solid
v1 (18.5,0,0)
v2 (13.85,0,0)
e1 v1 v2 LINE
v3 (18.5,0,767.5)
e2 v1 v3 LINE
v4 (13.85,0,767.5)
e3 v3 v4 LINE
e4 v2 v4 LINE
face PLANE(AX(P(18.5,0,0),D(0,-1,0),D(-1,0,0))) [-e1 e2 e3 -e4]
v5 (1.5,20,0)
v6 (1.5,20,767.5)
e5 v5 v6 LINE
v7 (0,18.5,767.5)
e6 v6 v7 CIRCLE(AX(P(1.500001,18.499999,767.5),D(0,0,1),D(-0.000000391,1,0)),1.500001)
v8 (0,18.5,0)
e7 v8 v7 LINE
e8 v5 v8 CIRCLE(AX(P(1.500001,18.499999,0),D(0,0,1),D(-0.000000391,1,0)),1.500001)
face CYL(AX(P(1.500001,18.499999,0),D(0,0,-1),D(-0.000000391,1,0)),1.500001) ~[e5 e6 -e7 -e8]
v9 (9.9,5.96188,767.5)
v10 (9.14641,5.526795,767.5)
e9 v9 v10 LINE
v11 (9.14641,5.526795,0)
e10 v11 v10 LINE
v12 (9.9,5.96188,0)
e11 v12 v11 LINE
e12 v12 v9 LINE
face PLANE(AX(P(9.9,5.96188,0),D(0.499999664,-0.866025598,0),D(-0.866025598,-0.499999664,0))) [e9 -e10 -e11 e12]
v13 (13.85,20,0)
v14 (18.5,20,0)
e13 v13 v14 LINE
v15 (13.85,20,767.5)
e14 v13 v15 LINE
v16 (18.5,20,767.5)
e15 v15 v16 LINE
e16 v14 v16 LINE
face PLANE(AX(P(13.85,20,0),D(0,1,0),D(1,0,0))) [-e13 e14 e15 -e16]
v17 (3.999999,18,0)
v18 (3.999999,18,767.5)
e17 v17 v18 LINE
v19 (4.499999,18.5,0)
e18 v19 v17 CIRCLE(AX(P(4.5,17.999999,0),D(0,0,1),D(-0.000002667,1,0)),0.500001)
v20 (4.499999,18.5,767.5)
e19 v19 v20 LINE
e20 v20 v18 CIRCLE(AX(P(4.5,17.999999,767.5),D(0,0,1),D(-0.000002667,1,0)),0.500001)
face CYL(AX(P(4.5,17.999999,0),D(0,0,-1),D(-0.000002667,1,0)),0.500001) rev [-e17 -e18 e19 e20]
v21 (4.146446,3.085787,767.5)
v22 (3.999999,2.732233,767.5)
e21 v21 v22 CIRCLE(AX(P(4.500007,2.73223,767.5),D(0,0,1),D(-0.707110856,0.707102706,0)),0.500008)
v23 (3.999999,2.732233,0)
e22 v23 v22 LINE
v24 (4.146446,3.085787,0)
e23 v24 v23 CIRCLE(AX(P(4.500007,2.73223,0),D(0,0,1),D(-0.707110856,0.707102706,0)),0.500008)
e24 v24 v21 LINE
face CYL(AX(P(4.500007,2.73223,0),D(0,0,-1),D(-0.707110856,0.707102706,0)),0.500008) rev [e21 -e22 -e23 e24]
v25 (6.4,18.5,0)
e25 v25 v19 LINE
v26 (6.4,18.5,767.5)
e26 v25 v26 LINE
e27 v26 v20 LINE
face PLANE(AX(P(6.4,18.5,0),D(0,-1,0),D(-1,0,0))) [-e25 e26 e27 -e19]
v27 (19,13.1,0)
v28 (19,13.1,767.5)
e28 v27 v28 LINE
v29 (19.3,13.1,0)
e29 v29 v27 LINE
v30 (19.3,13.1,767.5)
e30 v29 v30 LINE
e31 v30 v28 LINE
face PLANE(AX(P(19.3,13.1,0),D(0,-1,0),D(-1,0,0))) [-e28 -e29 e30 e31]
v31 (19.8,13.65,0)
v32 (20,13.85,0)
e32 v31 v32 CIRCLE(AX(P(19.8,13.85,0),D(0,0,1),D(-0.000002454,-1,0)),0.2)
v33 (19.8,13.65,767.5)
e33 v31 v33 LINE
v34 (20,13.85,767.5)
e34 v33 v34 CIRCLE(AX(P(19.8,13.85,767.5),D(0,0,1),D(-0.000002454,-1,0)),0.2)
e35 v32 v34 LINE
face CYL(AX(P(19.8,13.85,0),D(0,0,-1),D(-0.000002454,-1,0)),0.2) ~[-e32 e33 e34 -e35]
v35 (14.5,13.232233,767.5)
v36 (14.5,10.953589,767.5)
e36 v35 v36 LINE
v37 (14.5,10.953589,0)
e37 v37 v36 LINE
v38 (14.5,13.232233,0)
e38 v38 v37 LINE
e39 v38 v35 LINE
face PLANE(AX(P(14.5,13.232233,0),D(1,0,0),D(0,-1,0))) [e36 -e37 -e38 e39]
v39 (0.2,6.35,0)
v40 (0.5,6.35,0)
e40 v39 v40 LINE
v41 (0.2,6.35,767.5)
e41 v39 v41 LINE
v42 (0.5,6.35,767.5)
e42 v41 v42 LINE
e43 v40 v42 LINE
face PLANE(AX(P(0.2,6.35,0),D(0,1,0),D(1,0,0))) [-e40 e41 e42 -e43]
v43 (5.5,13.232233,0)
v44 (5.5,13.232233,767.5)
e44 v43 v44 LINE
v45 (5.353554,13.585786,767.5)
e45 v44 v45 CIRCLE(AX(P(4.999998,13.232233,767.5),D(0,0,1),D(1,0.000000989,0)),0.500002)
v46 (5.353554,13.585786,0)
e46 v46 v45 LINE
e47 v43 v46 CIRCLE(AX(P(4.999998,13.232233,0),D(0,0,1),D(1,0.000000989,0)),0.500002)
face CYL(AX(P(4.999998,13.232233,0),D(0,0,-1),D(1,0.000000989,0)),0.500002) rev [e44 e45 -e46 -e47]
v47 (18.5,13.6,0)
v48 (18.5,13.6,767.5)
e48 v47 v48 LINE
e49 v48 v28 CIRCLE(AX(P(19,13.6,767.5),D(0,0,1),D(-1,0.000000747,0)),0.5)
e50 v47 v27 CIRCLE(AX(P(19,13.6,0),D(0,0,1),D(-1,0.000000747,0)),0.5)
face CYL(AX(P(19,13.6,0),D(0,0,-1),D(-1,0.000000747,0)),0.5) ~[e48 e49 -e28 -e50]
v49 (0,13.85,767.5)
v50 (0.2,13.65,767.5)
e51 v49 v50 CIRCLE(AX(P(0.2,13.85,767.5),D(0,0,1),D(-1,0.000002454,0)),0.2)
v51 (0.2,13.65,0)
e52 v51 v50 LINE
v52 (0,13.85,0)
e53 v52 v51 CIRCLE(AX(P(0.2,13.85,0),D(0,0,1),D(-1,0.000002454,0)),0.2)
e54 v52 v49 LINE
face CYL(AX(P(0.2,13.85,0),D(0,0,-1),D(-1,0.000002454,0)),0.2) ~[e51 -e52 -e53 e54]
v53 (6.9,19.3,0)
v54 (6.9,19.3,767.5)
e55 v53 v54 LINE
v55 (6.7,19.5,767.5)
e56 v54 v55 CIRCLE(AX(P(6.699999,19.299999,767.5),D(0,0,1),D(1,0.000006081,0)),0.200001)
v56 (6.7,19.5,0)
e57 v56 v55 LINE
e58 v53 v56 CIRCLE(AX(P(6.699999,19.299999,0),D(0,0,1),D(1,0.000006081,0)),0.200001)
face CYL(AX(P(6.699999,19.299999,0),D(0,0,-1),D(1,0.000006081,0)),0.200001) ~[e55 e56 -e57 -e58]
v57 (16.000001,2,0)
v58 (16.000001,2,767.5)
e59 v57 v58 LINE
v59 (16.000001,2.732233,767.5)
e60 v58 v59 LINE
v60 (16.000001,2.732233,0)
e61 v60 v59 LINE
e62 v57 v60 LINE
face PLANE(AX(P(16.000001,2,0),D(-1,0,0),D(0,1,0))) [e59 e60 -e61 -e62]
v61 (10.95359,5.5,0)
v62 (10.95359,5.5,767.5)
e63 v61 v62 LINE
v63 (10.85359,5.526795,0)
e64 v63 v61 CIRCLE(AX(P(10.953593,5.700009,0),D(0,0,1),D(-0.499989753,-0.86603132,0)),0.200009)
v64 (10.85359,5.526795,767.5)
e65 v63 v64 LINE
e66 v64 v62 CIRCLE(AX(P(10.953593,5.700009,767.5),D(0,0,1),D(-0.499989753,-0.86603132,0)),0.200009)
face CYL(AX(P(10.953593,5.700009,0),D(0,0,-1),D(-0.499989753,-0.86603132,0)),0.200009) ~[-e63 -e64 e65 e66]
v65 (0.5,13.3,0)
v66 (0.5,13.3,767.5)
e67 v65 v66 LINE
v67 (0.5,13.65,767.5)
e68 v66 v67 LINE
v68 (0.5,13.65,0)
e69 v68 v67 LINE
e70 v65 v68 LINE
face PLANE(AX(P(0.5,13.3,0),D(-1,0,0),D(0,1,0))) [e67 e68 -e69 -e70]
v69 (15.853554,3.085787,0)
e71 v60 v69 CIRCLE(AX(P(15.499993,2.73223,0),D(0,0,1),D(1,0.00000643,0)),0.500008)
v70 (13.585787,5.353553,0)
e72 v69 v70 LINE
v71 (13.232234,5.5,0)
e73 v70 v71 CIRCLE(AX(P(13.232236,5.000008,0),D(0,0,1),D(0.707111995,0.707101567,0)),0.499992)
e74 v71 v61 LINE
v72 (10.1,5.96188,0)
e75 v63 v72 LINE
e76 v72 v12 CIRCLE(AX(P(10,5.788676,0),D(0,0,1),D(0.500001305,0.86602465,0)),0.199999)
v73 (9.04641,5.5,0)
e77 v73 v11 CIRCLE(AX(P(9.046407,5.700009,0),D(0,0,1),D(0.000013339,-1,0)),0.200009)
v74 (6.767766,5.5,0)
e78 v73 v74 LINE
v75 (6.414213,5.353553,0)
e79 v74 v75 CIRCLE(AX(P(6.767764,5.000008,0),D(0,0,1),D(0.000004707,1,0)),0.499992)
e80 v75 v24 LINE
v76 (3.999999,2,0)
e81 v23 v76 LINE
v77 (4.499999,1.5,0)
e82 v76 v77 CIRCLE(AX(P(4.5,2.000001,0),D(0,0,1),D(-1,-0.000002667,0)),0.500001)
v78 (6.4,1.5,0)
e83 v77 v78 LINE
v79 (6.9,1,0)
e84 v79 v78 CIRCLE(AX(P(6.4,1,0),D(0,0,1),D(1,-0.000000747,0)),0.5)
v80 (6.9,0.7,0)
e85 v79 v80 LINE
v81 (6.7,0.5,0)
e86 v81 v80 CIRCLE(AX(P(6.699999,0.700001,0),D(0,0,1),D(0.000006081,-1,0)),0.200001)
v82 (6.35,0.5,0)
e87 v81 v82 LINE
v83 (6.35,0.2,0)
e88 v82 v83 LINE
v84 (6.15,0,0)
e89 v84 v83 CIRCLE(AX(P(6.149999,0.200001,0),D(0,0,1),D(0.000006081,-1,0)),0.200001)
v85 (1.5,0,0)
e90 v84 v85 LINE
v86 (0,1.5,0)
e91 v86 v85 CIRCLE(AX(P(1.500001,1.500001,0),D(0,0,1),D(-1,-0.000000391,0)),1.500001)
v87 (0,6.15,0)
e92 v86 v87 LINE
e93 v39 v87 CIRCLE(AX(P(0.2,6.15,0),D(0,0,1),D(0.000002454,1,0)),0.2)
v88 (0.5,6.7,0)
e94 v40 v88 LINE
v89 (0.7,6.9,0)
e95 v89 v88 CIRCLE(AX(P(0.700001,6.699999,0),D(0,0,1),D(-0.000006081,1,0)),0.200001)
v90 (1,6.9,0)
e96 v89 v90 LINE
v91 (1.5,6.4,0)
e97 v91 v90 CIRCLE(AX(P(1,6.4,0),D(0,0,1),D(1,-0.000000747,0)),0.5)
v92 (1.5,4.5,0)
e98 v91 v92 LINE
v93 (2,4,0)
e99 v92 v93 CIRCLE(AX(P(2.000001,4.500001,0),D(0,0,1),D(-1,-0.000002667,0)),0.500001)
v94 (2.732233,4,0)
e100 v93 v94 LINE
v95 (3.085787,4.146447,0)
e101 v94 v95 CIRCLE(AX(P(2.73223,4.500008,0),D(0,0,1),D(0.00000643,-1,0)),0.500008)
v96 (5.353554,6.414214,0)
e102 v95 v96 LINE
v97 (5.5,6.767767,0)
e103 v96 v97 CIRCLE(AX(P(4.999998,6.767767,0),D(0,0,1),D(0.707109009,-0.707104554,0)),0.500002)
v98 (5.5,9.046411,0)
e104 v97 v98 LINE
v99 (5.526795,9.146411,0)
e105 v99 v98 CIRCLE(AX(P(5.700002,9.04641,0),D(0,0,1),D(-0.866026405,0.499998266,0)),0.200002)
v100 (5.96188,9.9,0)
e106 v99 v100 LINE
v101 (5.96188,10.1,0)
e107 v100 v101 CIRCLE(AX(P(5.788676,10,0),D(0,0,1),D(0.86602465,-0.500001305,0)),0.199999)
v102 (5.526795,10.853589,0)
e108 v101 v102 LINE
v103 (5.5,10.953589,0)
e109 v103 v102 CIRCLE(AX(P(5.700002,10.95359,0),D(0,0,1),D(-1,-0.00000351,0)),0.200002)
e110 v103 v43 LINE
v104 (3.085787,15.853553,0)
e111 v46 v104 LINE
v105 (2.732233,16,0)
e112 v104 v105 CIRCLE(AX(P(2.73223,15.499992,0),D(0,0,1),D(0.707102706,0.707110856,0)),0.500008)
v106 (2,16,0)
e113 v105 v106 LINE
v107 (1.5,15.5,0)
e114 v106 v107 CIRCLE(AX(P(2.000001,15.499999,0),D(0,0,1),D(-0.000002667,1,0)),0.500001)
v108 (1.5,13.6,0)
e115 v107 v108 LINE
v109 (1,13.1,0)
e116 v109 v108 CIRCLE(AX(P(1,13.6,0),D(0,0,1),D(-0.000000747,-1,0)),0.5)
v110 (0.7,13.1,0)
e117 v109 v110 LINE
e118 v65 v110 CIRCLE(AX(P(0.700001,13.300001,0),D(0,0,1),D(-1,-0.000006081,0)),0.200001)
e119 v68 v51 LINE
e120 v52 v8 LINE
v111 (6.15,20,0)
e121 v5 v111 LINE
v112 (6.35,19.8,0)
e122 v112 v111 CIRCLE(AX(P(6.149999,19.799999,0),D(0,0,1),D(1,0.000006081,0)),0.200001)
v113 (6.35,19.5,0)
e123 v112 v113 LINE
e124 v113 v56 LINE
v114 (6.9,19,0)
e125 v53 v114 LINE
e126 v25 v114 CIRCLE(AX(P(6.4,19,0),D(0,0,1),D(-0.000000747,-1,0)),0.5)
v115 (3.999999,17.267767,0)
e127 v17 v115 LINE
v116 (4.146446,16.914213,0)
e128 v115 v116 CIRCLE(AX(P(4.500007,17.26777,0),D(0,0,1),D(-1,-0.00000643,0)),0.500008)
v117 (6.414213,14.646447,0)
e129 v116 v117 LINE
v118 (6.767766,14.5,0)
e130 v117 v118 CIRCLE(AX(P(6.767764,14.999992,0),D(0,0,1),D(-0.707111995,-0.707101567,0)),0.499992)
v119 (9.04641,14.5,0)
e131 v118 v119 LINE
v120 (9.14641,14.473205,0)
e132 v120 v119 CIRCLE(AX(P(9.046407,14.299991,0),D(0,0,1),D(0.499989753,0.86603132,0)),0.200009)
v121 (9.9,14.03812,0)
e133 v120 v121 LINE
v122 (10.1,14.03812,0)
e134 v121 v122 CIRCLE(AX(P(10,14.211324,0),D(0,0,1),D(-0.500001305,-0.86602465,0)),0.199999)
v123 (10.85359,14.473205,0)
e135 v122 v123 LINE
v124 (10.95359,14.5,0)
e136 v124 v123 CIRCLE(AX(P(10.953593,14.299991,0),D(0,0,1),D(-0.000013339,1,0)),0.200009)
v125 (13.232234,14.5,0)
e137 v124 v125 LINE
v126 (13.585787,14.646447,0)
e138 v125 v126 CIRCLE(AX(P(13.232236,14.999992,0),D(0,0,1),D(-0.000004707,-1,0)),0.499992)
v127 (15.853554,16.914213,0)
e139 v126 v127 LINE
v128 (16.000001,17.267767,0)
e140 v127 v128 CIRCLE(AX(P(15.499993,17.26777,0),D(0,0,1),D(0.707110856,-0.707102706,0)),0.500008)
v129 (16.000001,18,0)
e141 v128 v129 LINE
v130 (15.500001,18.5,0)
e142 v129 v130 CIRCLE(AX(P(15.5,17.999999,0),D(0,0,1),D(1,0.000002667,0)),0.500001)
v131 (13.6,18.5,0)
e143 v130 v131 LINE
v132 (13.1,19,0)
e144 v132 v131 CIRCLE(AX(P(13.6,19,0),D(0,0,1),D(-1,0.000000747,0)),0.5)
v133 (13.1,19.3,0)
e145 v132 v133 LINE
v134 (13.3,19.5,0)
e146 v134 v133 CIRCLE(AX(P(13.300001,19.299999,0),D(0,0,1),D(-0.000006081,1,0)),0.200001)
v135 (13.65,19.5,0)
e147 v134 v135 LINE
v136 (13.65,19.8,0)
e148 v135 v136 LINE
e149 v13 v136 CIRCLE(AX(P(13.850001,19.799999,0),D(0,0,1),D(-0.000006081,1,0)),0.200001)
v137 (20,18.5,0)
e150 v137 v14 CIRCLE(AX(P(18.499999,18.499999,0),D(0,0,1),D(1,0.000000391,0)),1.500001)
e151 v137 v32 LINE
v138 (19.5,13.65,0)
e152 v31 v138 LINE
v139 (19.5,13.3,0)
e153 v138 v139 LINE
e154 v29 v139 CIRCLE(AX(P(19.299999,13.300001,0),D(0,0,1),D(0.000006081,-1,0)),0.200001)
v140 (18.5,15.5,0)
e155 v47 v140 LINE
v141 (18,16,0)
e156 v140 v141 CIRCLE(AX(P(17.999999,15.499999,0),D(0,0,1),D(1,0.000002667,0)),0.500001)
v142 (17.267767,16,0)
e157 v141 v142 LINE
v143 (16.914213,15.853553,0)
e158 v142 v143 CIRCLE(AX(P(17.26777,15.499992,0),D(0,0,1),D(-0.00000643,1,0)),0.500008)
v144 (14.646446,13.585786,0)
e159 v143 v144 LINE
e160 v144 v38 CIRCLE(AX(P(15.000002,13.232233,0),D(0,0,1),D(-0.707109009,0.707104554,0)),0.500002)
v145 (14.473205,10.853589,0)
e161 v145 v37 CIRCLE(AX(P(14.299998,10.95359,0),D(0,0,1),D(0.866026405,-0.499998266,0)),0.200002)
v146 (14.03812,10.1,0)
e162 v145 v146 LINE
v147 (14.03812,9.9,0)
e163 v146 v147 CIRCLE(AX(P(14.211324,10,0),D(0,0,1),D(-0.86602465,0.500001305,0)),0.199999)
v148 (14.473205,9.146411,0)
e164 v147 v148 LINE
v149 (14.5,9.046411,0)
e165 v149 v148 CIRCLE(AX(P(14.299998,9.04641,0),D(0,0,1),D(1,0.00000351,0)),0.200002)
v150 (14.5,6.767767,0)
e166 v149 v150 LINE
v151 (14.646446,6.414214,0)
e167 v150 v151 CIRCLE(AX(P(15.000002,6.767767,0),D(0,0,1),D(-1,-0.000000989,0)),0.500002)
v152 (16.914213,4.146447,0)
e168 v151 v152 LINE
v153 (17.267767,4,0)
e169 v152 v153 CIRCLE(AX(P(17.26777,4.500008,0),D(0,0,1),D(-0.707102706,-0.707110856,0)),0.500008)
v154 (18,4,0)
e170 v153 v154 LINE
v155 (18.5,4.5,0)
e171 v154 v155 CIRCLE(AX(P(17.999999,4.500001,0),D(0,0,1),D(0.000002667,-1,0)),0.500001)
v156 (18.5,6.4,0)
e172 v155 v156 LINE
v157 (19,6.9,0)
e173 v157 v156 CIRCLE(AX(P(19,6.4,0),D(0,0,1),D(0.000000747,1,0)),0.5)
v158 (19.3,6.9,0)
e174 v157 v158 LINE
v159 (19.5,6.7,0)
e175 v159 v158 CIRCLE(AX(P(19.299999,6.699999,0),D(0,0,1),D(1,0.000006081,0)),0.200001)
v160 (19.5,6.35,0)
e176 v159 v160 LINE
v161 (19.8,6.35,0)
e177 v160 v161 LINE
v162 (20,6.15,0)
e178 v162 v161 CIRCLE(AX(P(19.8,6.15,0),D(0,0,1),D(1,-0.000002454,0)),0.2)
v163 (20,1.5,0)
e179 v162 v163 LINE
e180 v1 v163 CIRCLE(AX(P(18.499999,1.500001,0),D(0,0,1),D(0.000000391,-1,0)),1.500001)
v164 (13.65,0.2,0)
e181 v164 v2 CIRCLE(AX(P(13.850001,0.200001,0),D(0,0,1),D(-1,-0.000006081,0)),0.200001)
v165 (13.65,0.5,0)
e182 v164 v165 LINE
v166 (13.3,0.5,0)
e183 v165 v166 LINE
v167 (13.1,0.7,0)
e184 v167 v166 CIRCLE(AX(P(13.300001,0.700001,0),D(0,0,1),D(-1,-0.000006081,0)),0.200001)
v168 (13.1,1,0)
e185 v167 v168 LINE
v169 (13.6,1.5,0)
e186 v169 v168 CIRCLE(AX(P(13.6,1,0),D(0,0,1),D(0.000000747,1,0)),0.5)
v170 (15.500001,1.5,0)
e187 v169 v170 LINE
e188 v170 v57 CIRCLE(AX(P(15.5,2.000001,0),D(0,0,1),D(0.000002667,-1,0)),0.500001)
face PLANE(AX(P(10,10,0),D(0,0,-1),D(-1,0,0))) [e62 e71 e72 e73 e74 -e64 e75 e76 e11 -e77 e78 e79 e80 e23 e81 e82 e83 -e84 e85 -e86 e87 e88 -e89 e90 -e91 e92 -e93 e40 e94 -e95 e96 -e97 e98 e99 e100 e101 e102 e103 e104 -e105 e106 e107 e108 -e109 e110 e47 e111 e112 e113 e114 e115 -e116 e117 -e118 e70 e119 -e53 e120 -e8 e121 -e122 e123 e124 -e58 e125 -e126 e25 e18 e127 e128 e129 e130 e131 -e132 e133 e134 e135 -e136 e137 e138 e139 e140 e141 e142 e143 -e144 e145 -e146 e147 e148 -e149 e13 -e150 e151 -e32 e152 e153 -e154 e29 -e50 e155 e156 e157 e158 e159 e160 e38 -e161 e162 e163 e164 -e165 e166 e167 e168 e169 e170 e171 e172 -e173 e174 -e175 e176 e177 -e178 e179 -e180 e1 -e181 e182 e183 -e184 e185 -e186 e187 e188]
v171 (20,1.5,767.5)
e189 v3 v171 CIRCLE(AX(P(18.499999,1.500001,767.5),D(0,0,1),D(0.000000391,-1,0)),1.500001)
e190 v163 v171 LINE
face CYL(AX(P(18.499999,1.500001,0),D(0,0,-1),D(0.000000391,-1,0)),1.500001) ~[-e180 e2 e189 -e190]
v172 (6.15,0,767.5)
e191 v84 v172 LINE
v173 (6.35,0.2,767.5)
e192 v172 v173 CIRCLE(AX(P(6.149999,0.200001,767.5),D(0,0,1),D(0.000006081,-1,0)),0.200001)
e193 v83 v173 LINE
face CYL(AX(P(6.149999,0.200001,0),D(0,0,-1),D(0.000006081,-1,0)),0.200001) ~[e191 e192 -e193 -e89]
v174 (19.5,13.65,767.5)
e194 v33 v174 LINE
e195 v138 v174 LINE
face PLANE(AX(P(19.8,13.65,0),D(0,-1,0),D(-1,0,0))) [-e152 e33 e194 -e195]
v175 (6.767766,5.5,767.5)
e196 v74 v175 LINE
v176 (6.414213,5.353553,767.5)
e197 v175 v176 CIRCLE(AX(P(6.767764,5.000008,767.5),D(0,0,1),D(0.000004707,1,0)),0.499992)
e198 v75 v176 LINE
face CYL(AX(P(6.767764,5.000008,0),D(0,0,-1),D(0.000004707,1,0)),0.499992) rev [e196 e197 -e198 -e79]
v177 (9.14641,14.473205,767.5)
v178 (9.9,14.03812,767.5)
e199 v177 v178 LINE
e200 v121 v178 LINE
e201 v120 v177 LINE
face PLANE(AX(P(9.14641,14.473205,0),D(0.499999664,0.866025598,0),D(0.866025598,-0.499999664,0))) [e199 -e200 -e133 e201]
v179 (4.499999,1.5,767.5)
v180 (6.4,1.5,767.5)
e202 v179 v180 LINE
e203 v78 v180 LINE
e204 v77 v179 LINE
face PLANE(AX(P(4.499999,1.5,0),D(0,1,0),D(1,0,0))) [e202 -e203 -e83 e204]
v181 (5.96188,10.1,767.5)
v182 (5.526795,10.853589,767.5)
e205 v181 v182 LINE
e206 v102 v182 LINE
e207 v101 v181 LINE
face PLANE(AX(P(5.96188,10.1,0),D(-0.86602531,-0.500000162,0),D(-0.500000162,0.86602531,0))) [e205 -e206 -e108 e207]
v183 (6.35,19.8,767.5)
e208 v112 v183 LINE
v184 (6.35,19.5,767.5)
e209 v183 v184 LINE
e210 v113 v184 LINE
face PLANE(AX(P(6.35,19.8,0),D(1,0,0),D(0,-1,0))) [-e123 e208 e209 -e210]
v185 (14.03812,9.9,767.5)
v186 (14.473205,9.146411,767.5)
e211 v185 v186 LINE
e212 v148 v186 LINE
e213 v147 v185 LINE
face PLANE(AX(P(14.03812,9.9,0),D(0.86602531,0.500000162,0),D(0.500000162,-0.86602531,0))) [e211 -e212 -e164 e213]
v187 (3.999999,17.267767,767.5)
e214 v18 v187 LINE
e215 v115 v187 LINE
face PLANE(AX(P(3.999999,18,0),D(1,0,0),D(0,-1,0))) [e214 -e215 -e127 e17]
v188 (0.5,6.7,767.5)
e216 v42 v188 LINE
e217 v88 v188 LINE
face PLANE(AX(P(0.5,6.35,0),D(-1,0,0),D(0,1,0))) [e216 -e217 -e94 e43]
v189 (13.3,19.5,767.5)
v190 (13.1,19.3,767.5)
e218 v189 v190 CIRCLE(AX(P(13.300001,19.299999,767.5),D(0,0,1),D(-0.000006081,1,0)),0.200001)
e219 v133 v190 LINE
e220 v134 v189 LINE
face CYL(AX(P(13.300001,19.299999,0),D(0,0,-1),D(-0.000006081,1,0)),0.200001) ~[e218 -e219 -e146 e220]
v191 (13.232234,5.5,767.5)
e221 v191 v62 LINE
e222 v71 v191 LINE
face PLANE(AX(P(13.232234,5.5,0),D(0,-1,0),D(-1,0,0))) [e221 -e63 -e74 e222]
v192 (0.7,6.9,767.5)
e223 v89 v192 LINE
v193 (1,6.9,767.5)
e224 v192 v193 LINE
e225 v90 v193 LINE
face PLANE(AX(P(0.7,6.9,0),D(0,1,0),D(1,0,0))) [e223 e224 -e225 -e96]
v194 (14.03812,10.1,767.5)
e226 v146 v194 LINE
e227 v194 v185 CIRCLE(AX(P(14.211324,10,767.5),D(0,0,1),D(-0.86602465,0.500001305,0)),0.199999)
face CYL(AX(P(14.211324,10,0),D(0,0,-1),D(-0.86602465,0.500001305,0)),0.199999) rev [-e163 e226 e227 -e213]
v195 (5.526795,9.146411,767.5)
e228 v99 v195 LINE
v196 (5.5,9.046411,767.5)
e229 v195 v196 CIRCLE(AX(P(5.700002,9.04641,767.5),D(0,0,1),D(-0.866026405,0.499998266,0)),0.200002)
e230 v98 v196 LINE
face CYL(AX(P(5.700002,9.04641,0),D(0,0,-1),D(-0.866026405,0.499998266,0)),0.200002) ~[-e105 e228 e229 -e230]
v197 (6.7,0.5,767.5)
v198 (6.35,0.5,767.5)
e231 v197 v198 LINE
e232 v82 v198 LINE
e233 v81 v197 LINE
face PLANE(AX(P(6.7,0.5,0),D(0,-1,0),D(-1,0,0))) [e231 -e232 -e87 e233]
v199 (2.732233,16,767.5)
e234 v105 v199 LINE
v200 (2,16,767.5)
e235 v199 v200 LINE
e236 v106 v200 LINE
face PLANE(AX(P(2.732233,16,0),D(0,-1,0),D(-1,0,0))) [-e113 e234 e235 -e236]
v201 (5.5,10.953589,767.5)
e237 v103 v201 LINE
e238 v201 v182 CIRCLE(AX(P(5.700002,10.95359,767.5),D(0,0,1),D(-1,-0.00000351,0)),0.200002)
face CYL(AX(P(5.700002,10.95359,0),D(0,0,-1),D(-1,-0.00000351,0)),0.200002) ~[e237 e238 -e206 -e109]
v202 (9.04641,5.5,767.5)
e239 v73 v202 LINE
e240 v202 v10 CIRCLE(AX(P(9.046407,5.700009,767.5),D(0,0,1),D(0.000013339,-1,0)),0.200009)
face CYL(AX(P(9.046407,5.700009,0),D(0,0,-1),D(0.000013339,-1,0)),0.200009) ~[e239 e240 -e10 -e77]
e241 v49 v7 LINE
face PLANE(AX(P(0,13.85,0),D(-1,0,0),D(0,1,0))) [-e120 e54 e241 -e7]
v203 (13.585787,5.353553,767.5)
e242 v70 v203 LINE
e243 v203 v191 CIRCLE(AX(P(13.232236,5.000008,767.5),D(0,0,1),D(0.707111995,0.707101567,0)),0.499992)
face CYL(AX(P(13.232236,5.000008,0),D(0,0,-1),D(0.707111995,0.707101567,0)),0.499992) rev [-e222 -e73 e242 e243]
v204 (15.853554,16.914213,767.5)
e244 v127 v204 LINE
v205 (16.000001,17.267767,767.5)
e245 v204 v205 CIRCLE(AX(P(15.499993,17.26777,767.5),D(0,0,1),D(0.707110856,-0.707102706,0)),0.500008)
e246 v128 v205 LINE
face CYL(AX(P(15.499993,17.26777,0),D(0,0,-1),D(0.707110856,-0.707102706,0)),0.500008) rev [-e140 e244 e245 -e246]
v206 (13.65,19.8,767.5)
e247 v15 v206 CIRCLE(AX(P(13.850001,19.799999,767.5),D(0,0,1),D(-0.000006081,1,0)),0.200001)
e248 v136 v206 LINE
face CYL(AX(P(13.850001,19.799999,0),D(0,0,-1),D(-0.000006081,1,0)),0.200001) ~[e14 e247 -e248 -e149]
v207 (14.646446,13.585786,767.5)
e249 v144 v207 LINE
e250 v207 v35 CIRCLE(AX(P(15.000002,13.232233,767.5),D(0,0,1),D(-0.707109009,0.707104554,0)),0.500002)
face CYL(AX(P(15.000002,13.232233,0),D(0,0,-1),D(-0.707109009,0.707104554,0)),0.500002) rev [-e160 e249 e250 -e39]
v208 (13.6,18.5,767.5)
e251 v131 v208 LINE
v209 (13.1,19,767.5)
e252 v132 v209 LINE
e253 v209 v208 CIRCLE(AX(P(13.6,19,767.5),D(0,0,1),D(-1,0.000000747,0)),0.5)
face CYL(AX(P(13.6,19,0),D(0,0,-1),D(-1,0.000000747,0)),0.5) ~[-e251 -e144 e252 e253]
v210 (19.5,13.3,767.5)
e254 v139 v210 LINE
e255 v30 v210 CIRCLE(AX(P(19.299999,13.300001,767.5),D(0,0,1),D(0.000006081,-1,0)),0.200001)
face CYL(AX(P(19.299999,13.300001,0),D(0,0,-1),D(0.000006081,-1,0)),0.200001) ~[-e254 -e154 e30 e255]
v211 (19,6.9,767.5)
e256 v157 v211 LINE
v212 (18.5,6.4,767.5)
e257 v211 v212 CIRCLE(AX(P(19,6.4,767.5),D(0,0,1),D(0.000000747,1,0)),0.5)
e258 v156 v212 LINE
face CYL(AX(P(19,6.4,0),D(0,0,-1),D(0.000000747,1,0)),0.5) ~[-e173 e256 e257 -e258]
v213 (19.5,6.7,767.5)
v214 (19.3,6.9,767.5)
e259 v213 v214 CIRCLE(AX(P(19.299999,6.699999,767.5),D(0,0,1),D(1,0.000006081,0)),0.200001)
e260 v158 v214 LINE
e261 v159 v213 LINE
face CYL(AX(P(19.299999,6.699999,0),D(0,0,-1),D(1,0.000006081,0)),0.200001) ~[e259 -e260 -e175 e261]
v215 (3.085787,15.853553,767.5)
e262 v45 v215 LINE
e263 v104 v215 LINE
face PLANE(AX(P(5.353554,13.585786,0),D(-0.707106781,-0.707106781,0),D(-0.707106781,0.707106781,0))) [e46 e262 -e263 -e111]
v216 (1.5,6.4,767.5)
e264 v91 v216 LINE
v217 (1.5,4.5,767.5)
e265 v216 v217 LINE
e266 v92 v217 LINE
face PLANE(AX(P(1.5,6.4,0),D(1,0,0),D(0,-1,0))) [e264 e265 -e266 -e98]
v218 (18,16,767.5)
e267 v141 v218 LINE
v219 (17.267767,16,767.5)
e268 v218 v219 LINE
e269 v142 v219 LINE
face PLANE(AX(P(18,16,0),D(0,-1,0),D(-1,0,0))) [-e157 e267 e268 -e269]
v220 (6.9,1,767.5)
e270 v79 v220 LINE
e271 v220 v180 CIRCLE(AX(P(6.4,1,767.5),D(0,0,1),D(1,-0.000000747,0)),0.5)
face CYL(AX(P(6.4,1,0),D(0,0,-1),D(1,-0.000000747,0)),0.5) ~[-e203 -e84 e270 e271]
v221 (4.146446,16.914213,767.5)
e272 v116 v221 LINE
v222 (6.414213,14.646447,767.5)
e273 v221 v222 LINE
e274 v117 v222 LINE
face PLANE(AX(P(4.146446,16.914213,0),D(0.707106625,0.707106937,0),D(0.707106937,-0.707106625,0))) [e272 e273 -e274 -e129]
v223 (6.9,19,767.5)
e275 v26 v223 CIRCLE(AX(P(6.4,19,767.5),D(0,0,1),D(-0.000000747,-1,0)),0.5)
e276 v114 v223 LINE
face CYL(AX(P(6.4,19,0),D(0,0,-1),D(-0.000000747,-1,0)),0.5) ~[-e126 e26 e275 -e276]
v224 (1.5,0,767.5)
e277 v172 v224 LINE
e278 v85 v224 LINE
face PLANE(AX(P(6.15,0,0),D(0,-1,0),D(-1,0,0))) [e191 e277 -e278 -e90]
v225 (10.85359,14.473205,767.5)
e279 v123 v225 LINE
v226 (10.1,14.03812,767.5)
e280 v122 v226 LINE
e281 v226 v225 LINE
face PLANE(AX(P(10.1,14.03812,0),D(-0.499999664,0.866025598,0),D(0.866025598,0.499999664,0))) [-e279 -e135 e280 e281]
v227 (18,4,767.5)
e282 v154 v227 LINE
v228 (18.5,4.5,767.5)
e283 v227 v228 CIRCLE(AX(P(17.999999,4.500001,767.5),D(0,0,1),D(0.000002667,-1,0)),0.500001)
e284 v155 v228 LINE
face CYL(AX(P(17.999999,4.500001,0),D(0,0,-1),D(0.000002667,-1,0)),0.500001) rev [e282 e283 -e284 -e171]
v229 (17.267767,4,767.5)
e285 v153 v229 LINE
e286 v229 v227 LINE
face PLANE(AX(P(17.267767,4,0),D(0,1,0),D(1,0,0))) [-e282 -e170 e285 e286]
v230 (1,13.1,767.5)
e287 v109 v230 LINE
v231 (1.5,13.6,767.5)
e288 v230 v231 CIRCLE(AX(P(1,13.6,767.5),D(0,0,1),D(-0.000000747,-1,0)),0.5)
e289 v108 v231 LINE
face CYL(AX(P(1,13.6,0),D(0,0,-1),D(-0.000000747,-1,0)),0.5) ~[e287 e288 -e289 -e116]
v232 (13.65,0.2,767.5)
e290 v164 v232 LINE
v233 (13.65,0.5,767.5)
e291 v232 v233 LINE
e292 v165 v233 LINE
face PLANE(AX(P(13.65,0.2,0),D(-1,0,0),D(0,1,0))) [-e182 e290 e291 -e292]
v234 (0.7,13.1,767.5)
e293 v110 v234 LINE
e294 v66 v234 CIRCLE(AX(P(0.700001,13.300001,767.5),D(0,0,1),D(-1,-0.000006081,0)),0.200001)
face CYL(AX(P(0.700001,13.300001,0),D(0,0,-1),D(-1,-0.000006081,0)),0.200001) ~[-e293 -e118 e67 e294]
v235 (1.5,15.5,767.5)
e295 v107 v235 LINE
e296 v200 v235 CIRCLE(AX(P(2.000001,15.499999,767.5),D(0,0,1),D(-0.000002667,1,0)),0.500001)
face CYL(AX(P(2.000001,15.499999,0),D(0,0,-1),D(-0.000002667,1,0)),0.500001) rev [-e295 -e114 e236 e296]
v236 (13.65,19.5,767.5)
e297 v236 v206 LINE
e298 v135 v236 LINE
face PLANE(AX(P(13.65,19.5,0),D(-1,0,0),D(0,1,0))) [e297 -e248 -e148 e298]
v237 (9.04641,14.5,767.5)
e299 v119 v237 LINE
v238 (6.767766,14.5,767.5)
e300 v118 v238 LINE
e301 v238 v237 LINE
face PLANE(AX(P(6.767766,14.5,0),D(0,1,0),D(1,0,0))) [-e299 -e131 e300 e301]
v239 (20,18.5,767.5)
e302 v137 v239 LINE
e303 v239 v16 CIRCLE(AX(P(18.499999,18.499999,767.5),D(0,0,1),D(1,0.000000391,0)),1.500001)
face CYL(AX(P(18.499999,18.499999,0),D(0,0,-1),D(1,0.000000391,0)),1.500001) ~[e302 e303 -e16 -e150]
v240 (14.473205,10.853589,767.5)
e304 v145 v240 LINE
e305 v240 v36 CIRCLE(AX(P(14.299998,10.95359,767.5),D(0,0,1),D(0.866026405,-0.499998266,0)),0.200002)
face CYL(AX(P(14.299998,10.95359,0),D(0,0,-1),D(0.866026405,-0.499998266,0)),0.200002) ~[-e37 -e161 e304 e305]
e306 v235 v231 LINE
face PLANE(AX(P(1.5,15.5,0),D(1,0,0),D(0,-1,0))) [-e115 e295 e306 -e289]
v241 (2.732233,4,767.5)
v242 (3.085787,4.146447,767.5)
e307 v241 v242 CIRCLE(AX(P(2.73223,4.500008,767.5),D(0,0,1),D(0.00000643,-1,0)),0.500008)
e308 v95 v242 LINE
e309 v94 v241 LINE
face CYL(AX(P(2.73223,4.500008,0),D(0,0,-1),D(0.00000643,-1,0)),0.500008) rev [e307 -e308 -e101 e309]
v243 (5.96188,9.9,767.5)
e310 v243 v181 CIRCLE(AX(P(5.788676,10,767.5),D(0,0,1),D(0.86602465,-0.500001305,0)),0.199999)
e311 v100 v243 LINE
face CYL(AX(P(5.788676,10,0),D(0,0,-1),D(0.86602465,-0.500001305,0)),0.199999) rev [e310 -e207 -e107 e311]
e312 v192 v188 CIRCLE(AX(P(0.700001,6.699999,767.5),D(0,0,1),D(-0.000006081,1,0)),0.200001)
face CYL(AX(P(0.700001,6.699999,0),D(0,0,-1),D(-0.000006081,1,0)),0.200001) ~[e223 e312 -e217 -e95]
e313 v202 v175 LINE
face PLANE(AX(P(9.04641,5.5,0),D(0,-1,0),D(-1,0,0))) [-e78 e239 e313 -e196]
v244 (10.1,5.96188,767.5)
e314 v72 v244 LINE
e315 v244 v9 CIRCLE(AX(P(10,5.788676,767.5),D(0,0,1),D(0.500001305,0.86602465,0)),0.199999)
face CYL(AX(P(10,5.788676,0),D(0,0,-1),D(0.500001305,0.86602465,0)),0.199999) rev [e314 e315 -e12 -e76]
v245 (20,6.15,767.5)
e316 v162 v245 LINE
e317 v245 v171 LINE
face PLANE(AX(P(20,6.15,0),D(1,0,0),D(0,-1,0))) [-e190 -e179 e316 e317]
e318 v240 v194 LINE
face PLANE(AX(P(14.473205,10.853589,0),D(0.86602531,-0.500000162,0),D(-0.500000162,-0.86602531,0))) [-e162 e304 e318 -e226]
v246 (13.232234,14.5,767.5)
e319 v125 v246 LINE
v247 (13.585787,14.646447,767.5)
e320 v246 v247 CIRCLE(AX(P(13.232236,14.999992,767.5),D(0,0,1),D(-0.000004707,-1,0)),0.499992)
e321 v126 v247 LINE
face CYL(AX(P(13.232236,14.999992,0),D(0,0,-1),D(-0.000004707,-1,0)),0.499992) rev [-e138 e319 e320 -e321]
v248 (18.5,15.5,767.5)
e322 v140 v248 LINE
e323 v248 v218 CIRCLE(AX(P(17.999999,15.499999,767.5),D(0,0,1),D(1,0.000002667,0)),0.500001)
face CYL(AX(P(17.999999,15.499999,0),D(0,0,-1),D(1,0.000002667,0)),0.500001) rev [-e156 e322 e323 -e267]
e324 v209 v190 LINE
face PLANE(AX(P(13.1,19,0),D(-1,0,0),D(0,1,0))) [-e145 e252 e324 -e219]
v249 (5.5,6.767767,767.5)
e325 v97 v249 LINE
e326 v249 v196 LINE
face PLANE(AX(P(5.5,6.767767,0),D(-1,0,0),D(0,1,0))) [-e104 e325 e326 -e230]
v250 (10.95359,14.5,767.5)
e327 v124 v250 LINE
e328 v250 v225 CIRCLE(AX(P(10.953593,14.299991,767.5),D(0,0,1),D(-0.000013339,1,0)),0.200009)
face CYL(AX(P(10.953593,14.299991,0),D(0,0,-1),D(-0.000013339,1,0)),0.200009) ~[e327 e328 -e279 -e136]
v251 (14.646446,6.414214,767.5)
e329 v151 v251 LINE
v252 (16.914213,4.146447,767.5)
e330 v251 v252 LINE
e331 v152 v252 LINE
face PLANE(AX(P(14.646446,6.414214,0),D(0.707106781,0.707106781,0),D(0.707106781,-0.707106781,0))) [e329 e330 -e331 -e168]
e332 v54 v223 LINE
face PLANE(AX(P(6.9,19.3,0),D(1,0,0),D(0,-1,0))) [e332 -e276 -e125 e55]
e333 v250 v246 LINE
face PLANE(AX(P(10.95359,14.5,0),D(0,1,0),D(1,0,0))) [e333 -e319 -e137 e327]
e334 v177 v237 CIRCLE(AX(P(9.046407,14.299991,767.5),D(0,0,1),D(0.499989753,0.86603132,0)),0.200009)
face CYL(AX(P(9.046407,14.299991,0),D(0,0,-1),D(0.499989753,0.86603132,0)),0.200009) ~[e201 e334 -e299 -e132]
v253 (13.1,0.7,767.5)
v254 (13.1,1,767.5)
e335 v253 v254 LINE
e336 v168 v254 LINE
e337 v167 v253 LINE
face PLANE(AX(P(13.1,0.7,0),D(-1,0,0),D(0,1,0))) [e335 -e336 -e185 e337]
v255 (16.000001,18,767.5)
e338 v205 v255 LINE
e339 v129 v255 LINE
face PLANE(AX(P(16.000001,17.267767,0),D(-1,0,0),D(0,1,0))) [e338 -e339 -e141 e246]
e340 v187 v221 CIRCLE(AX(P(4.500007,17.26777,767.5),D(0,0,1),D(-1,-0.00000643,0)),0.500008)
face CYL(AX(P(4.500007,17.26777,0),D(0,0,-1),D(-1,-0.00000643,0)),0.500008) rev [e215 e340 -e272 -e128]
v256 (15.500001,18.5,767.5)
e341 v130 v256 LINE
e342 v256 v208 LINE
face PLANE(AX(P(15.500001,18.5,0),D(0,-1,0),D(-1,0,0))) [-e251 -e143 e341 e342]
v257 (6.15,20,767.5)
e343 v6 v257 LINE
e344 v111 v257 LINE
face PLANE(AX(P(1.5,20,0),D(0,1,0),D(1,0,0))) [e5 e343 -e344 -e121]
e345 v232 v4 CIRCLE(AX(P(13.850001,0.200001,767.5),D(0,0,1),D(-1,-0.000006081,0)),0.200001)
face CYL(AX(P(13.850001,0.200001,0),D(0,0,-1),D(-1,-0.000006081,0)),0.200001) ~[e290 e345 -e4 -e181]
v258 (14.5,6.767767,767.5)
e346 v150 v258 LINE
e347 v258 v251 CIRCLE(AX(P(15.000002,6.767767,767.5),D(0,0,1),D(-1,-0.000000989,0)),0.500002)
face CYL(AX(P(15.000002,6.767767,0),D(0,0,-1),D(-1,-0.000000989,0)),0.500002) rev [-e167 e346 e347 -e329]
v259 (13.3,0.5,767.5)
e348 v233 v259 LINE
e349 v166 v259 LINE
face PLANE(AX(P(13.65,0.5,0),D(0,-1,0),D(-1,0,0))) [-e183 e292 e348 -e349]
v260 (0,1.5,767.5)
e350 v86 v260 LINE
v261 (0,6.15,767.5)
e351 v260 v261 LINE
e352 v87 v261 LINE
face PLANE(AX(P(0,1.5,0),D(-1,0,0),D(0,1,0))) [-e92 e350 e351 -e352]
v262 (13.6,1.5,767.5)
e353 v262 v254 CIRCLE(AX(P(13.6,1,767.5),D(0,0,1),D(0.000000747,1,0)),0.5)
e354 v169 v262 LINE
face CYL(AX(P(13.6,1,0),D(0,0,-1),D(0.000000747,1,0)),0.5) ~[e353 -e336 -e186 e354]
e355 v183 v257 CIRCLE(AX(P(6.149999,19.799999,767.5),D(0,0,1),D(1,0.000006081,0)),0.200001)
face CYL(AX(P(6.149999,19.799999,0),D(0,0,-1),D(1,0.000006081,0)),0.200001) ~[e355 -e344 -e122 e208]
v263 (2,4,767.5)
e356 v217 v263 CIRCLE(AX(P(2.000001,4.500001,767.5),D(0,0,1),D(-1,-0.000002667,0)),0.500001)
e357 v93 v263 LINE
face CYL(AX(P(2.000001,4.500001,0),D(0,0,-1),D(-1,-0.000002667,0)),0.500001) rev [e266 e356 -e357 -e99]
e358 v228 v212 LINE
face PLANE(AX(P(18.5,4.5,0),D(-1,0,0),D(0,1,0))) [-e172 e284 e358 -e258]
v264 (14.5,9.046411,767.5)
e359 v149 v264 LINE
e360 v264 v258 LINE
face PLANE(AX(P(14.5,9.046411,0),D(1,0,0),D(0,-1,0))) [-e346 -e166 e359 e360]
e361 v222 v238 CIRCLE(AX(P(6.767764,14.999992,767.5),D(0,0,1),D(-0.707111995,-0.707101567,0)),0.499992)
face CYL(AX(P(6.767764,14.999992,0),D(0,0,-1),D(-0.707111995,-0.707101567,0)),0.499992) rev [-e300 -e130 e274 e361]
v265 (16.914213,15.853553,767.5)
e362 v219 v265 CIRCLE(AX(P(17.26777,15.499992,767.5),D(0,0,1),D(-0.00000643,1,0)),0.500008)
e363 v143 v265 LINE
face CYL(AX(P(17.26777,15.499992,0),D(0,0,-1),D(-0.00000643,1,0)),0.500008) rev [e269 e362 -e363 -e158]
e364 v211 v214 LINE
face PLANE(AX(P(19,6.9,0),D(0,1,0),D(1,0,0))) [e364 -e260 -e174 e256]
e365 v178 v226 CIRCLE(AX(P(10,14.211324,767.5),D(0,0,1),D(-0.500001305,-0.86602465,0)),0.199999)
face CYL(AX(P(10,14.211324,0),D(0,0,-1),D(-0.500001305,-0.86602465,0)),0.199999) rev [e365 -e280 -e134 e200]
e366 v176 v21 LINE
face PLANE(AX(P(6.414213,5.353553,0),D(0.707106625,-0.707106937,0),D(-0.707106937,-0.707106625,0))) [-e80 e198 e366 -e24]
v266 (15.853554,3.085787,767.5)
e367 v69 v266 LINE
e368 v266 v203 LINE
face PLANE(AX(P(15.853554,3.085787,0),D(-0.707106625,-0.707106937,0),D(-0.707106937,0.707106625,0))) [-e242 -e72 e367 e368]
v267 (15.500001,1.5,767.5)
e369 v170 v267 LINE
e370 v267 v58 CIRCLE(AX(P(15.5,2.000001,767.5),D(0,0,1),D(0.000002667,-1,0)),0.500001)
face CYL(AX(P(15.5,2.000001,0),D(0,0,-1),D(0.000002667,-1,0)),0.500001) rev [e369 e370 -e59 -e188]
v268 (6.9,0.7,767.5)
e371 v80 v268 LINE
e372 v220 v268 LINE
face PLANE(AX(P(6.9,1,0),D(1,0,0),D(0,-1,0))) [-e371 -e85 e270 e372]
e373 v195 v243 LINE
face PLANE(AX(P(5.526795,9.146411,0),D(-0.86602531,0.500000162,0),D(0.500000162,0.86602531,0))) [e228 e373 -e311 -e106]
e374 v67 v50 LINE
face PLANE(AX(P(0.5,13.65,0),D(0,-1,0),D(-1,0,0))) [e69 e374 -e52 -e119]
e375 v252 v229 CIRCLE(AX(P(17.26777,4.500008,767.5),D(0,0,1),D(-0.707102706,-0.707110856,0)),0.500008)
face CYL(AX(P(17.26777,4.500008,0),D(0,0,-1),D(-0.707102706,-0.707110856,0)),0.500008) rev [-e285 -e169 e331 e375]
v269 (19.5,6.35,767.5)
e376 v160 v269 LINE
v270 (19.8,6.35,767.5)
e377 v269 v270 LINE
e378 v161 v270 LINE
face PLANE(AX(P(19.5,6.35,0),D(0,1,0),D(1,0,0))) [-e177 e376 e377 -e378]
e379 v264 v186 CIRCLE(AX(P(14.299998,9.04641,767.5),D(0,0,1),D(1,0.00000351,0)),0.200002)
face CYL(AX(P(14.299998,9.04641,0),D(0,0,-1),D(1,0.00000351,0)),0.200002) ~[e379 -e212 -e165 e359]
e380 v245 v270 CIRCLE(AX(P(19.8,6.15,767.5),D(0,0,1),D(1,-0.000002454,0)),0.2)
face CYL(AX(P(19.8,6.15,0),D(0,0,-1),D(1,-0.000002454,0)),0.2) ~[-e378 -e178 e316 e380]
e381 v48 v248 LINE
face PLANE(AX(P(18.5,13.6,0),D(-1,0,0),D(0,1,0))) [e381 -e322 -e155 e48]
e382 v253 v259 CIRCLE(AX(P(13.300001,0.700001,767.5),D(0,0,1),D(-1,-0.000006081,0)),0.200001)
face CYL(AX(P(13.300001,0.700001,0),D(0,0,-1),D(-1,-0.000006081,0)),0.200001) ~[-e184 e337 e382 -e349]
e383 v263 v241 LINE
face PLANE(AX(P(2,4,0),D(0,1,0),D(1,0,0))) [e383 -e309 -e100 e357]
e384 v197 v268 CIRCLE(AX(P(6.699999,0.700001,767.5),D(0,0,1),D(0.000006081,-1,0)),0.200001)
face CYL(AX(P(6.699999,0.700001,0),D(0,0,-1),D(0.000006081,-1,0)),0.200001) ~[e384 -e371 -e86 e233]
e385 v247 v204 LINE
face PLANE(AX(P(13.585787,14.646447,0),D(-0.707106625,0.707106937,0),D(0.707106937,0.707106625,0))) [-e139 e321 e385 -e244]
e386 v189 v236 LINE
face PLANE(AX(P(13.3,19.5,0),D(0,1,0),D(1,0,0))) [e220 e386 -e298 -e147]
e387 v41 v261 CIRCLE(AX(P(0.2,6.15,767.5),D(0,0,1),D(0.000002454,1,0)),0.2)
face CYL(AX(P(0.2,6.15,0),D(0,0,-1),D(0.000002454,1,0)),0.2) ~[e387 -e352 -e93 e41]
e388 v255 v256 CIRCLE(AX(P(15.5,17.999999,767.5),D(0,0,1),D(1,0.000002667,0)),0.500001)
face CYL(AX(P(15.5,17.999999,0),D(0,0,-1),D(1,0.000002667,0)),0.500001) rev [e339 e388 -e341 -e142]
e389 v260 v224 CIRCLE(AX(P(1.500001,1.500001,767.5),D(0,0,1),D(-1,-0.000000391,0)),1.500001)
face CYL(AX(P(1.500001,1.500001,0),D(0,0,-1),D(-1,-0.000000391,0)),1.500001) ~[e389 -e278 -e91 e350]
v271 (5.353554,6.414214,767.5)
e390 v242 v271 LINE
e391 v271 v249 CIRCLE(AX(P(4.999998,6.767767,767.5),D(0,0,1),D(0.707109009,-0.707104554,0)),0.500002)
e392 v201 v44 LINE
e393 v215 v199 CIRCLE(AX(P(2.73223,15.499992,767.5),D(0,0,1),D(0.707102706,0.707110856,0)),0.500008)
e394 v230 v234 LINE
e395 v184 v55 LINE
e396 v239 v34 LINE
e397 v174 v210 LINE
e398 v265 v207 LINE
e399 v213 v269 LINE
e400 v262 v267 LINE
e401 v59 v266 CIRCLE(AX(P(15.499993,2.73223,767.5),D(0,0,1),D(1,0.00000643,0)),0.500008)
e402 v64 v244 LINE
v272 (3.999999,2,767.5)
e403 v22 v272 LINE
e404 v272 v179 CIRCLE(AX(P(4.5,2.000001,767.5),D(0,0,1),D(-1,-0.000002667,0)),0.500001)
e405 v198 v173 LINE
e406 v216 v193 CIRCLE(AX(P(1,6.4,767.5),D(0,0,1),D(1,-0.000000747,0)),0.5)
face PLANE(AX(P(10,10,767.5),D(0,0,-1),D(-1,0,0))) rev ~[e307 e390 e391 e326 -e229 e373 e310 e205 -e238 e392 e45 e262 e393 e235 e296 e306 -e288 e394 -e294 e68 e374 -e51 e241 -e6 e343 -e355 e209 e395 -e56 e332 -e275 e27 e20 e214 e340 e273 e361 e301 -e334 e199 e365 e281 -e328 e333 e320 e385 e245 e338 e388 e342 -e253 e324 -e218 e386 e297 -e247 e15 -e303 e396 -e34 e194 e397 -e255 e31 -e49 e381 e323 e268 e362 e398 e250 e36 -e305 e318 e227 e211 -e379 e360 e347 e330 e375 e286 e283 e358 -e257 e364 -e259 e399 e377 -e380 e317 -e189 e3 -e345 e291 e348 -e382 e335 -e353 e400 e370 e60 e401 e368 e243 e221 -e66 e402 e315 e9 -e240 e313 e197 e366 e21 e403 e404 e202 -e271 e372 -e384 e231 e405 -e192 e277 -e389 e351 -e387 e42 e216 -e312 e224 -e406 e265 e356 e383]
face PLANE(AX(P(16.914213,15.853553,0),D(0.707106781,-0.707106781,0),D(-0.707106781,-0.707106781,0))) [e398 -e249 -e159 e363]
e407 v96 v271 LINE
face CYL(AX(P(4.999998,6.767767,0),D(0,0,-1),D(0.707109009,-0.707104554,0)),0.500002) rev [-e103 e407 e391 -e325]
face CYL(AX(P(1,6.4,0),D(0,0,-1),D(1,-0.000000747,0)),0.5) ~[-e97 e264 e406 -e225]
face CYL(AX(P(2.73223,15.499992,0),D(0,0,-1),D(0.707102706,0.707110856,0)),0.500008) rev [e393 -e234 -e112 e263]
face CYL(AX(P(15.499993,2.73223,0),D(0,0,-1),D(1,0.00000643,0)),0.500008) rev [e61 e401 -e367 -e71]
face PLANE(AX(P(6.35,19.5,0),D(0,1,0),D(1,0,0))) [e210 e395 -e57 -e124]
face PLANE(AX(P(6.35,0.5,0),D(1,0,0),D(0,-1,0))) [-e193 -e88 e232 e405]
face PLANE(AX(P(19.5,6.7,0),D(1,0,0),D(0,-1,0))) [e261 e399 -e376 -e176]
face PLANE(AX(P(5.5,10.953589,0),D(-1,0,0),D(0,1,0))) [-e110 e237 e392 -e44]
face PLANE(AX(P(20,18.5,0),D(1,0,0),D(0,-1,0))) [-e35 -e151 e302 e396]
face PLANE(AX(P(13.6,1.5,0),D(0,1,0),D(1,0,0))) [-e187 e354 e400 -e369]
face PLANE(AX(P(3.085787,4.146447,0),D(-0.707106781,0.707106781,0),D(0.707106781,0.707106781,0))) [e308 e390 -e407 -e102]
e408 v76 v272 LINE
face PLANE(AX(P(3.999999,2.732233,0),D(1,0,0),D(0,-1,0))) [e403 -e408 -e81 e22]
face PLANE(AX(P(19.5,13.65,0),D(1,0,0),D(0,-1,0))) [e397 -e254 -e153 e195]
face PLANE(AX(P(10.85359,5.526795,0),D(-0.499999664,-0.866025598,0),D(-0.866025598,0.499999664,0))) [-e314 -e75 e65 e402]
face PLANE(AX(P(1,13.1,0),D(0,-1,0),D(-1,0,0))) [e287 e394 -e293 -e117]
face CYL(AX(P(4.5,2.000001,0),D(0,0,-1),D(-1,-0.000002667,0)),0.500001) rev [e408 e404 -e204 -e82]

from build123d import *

# Parameters (mm, degrees)
PAD_DEPTH    = 767.5
POCKET_DEPTH = 767.501


with BuildPart() as pad:
    # Sketch → Pad (new body)
    with BuildSketch(Plane(origin=(1.5, 0, 0), x_dir=(1, 0, 0), z_dir=(0, 0, 1))):
        with BuildLine():
            Line((0, 20), (4.65, 20))
            ThreePointArc((4.85, 19.8), (4.791421, 19.941421), (4.65, 20))
            Line((4.85, 19.8), (4.85, 19.5))
            Line((4.85, 19.5), (5.2, 19.5))
            ThreePointArc((5.4, 19.3), (5.341421, 19.441421), (5.2, 19.5))
            Line((5.4, 19.3), (5.4, 19))
            ThreePointArc((4.9, 18.5), (5.253553, 18.646446), (5.4, 19))
            Line((4.9, 18.5), (2.999999, 18.5))
            ThreePointArc((2.999999, 18.5), (2.646446, 18.353553), (2.499999, 18))
            Line((2.499999, 18), (2.499999, 17.267767))
            ThreePointArc((2.499999, 17.267767), (2.53806, 17.076425), (2.646446, 16.914213))
            Line((2.646446, 16.914213), (4.914213, 14.646447))
            ThreePointArc((4.914213, 14.646447), (5.076424, 14.53806), (5.267766, 14.5))
            Line((5.267766, 14.5), (7.54641, 14.5))
            ThreePointArc((7.64641, 14.473205), (7.598173, 14.493185), (7.54641, 14.5))
            Line((7.64641, 14.473205), (8.4, 14.03812))
            ThreePointArc((8.4, 14.03812), (8.5, 14.011325), (8.6, 14.03812))
            Line((8.6, 14.03812), (9.35359, 14.473205))
            ThreePointArc((9.45359, 14.5), (9.401827, 14.493185), (9.35359, 14.473205))
            Line((9.45359, 14.5), (11.732234, 14.5))
            ThreePointArc((11.732234, 14.5), (11.923576, 14.53806), (12.085787, 14.646447))
            Line((12.085787, 14.646447), (14.353554, 16.914213))
            ThreePointArc((14.353554, 16.914213), (14.46194, 17.076425), (14.500001, 17.267767))
            Line((14.500001, 17.267767), (14.500001, 18))
            ThreePointArc((14.500001, 18), (14.353554, 18.353553), (14.000001, 18.5))
            Line((14.000001, 18.5), (12.1, 18.5))
            ThreePointArc((11.6, 19), (11.746447, 18.646446), (12.1, 18.5))
            Line((11.6, 19), (11.6, 19.3))
            ThreePointArc((11.8, 19.5), (11.658579, 19.441421), (11.6, 19.3))
            Line((11.8, 19.5), (12.15, 19.5))
            Line((12.15, 19.5), (12.15, 19.8))
            ThreePointArc((12.35, 20), (12.208579, 19.941421), (12.15, 19.8))
            Line((12.35, 20), (17, 20))
            ThreePointArc((18.5, 18.5), (18.06066, 19.56066), (17, 20))
            Line((18.5, 18.5), (18.5, 13.85))
            ThreePointArc((18.3, 13.65), (18.441421, 13.708578), (18.5, 13.85))
            Line((18.3, 13.65), (18, 13.65))
            Line((18, 13.65), (18, 13.3))
            ThreePointArc((17.8, 13.1), (17.941421, 13.158579), (18, 13.3))
            Line((17.8, 13.1), (17.5, 13.1))
            ThreePointArc((17, 13.6), (17.146446, 13.246447), (17.5, 13.1))
            Line((17, 13.6), (17, 15.5))
            ThreePointArc((17, 15.5), (16.853553, 15.853553), (16.5, 16))
            Line((16.5, 16), (15.767767, 16))
            ThreePointArc((15.767767, 16), (15.576425, 15.961939), (15.414213, 15.853553))
            Line((15.414213, 15.853553), (13.146446, 13.585786))
            ThreePointArc((13.146446, 13.585786), (13.03806, 13.423574), (13, 13.232233))
            Line((13, 13.232233), (13, 10.953589))
            ThreePointArc((12.973205, 10.853589), (12.993185, 10.901825), (13, 10.953589))
            Line((12.973205, 10.853589), (12.53812, 10.1))
            ThreePointArc((12.53812, 10.1), (12.511325, 10), (12.53812, 9.9))
            Line((12.53812, 9.9), (12.973205, 9.146411))
            ThreePointArc((13, 9.046411), (12.993185, 9.098175), (12.973205, 9.146411))
            Line((13, 9.046411), (13, 6.767767))
            ThreePointArc((13, 6.767767), (13.03806, 6.576426), (13.146446, 6.414214))
            Line((13.146446, 6.414214), (15.414213, 4.146447))
            ThreePointArc((15.414213, 4.146447), (15.576425, 4.038061), (15.767767, 4))
            Line((15.767767, 4), (16.5, 4))
            ThreePointArc((16.5, 4), (16.853553, 4.146447), (17, 4.5))
            Line((17, 4.5), (17, 6.4))
            ThreePointArc((17.5, 6.9), (17.146446, 6.753553), (17, 6.4))
            Line((17.5, 6.9), (17.8, 6.9))
            ThreePointArc((18, 6.7), (17.941421, 6.841421), (17.8, 6.9))
            Line((18, 6.7), (18, 6.35))
            Line((18, 6.35), (18.3, 6.35))
            ThreePointArc((18.5, 6.15), (18.441421, 6.291422), (18.3, 6.35))
            Line((18.5, 6.15), (18.5, 1.5))
            ThreePointArc((17, 0), (18.06066, 0.43934), (18.5, 1.5))
            Line((17, 0), (12.35, 0))
            ThreePointArc((12.15, 0.2), (12.208579, 0.058579), (12.35, 0))
            Line((12.15, 0.2), (12.15, 0.5))
            Line((12.15, 0.5), (11.8, 0.5))
            ThreePointArc((11.6, 0.7), (11.658579, 0.558579), (11.8, 0.5))
            Line((11.6, 0.7), (11.6, 1))
            ThreePointArc((12.1, 1.5), (11.746447, 1.353554), (11.6, 1))
            Line((12.1, 1.5), (14.000001, 1.5))
            ThreePointArc((14.000001, 1.5), (14.353554, 1.646447), (14.500001, 2))
            Line((14.500001, 2), (14.500001, 2.732233))
            ThreePointArc((14.500001, 2.732233), (14.46194, 2.923575), (14.353554, 3.085787))
            Line((14.353554, 3.085787), (12.085787, 5.353553))
            ThreePointArc((12.085787, 5.353553), (11.923576, 5.46194), (11.732234, 5.5))
            Line((11.732234, 5.5), (9.45359, 5.5))
            ThreePointArc((9.35359, 5.526795), (9.401827, 5.506815), (9.45359, 5.5))
            Line((9.35359, 5.526795), (8.6, 5.96188))
            ThreePointArc((8.6, 5.96188), (8.5, 5.988675), (8.4, 5.96188))
            Line((8.4, 5.96188), (7.64641, 5.526795))
            ThreePointArc((7.54641, 5.5), (7.598173, 5.506815), (7.64641, 5.526795))
            Line((7.54641, 5.5), (5.267766, 5.5))
            ThreePointArc((5.267766, 5.5), (5.076424, 5.46194), (4.914213, 5.353553))
            Line((4.914213, 5.353553), (2.646446, 3.085787))
            ThreePointArc((2.646446, 3.085787), (2.53806, 2.923575), (2.499999, 2.732233))
            Line((2.499999, 2.732233), (2.499999, 2))
            ThreePointArc((2.499999, 2), (2.646446, 1.646447), (2.999999, 1.5))
            Line((2.999999, 1.5), (4.9, 1.5))
            ThreePointArc((5.4, 1), (5.253553, 1.353554), (4.9, 1.5))
            Line((5.4, 1), (5.4, 0.7))
            ThreePointArc((5.2, 0.5), (5.341421, 0.558579), (5.4, 0.7))
            Line((5.2, 0.5), (4.85, 0.5))
            Line((4.85, 0.5), (4.85, 0.2))
            ThreePointArc((4.65, 0), (4.791421, 0.058579), (4.85, 0.2))
            Line((4.65, 0), (0, 0))
            ThreePointArc((-1.5, 1.5), (-1.06066, 0.43934), (0, 0))
            Line((-1.5, 1.5), (-1.5, 6.15))
            ThreePointArc((-1.3, 6.35), (-1.441421, 6.291422), (-1.5, 6.15))
            Line((-1.3, 6.35), (-1, 6.35))
            Line((-1, 6.35), (-1, 6.7))
            ThreePointArc((-0.8, 6.9), (-0.941421, 6.841421), (-1, 6.7))
            Line((-0.8, 6.9), (-0.5, 6.9))
            ThreePointArc((0, 6.4), (-0.146446, 6.753553), (-0.5, 6.9))
            Line((0, 6.4), (0, 4.5))
            ThreePointArc((0, 4.5), (0.146447, 4.146447), (0.5, 4))
            Line((0.5, 4), (1.232233, 4))
            ThreePointArc((1.232233, 4), (1.423575, 4.038061), (1.585787, 4.146447))
            Line((1.585787, 4.146447), (3.853554, 6.414214))
            ThreePointArc((3.853554, 6.414214), (3.96194, 6.576426), (4, 6.767767))
            Line((4, 6.767767), (4, 9.046411))
            ThreePointArc((4.026795, 9.146411), (4.006815, 9.098175), (4, 9.046411))
            Line((4.026795, 9.146411), (4.46188, 9.9))
            ThreePointArc((4.46188, 9.9), (4.488675, 10), (4.46188, 10.1))
            Line((4.46188, 10.1), (4.026795, 10.853589))
            ThreePointArc((4, 10.953589), (4.006815, 10.901825), (4.026795, 10.853589))
            Line((4, 10.953589), (4, 13.232233))
            ThreePointArc((4, 13.232233), (3.96194, 13.423574), (3.853554, 13.585786))
            Line((3.853554, 13.585786), (1.585787, 15.853553))
            ThreePointArc((1.585787, 15.853553), (1.423575, 15.961939), (1.232233, 16))
            Line((1.232233, 16), (0.5, 16))
            ThreePointArc((0.5, 16), (0.146447, 15.853553), (0, 15.5))
            Line((0, 15.5), (0, 13.6))
            ThreePointArc((-0.5, 13.1), (-0.146446, 13.246447), (0, 13.6))
            Line((-0.5, 13.1), (-0.8, 13.1))
            ThreePointArc((-1, 13.3), (-0.941421, 13.158579), (-0.8, 13.1))
            Line((-1, 13.3), (-1, 13.65))
            Line((-1, 13.65), (-1.3, 13.65))
            ThreePointArc((-1.5, 13.85), (-1.441421, 13.708578), (-1.3, 13.65))
            Line((-1.5, 13.85), (-1.5, 18.5))
            ThreePointArc((0, 20), (-1.06066, 19.56066), (-1.5, 18.5))
        make_face()
    extrude(amount=PAD_DEPTH)


with BuildPart() as pocket:
    # Pocket base: copy of Pad
    add(pad.part)

    # Sketch001 → Pocket (cut, through all)
    with BuildSketch(Plane(origin=(1.5, 0, 767.5), x_dir=(1, 0, 0), z_dir=(0, 0, 1))):
        with BuildLine():
            ThreePointArc((6.586105, 12.989641), (5.988263, 12.50841), (5.507825, 11.909931))
            Line((6.054705, 11.258185), (5.507825, 11.909931))
            ThreePointArc((6.054705, 11.258185), (5.75, 10), (6.054705, 8.741815))
            Line((5.507825, 8.090069), (6.054705, 8.741815))
            ThreePointArc((5.507825, 8.090069), (5.988263, 7.49159), (6.586105, 7.010359))
            Line((7.241815, 7.554705), (6.586105, 7.010359))
            ThreePointArc((7.241815, 7.554705), (8.5, 7.25), (9.758185, 7.554705))
            Line((10.413895, 7.010359), (9.758185, 7.554705))
            ThreePointArc((10.413895, 7.010359), (11.011737, 7.49159), (11.492175, 8.090069))
            Line((10.945295, 8.741815), (11.492175, 8.090069))
            ThreePointArc((10.945295, 8.741815), (11.25, 10), (10.945295, 11.258185))
            Line((11.492175, 11.909931), (10.945295, 11.258185))
            ThreePointArc((11.492175, 11.909931), (11.011737, 12.50841), (10.413895, 12.989641))
            Line((9.758185, 12.445295), (10.413895, 12.989641))
            ThreePointArc((9.758185, 12.445295), (8.5, 12.75), (7.241815, 12.445295))
            Line((6.586105, 12.989641), (7.241815, 12.445295))
        make_face()
    extrude(amount=-POCKET_DEPTH, mode=Mode.SUBTRACT)


with BuildPart() as fusion:
    # Fusion base: copy of Pad
    add(pad.part)

    # Fusion: union Pocket
    add(pocket.part)


solid = fusion.part
